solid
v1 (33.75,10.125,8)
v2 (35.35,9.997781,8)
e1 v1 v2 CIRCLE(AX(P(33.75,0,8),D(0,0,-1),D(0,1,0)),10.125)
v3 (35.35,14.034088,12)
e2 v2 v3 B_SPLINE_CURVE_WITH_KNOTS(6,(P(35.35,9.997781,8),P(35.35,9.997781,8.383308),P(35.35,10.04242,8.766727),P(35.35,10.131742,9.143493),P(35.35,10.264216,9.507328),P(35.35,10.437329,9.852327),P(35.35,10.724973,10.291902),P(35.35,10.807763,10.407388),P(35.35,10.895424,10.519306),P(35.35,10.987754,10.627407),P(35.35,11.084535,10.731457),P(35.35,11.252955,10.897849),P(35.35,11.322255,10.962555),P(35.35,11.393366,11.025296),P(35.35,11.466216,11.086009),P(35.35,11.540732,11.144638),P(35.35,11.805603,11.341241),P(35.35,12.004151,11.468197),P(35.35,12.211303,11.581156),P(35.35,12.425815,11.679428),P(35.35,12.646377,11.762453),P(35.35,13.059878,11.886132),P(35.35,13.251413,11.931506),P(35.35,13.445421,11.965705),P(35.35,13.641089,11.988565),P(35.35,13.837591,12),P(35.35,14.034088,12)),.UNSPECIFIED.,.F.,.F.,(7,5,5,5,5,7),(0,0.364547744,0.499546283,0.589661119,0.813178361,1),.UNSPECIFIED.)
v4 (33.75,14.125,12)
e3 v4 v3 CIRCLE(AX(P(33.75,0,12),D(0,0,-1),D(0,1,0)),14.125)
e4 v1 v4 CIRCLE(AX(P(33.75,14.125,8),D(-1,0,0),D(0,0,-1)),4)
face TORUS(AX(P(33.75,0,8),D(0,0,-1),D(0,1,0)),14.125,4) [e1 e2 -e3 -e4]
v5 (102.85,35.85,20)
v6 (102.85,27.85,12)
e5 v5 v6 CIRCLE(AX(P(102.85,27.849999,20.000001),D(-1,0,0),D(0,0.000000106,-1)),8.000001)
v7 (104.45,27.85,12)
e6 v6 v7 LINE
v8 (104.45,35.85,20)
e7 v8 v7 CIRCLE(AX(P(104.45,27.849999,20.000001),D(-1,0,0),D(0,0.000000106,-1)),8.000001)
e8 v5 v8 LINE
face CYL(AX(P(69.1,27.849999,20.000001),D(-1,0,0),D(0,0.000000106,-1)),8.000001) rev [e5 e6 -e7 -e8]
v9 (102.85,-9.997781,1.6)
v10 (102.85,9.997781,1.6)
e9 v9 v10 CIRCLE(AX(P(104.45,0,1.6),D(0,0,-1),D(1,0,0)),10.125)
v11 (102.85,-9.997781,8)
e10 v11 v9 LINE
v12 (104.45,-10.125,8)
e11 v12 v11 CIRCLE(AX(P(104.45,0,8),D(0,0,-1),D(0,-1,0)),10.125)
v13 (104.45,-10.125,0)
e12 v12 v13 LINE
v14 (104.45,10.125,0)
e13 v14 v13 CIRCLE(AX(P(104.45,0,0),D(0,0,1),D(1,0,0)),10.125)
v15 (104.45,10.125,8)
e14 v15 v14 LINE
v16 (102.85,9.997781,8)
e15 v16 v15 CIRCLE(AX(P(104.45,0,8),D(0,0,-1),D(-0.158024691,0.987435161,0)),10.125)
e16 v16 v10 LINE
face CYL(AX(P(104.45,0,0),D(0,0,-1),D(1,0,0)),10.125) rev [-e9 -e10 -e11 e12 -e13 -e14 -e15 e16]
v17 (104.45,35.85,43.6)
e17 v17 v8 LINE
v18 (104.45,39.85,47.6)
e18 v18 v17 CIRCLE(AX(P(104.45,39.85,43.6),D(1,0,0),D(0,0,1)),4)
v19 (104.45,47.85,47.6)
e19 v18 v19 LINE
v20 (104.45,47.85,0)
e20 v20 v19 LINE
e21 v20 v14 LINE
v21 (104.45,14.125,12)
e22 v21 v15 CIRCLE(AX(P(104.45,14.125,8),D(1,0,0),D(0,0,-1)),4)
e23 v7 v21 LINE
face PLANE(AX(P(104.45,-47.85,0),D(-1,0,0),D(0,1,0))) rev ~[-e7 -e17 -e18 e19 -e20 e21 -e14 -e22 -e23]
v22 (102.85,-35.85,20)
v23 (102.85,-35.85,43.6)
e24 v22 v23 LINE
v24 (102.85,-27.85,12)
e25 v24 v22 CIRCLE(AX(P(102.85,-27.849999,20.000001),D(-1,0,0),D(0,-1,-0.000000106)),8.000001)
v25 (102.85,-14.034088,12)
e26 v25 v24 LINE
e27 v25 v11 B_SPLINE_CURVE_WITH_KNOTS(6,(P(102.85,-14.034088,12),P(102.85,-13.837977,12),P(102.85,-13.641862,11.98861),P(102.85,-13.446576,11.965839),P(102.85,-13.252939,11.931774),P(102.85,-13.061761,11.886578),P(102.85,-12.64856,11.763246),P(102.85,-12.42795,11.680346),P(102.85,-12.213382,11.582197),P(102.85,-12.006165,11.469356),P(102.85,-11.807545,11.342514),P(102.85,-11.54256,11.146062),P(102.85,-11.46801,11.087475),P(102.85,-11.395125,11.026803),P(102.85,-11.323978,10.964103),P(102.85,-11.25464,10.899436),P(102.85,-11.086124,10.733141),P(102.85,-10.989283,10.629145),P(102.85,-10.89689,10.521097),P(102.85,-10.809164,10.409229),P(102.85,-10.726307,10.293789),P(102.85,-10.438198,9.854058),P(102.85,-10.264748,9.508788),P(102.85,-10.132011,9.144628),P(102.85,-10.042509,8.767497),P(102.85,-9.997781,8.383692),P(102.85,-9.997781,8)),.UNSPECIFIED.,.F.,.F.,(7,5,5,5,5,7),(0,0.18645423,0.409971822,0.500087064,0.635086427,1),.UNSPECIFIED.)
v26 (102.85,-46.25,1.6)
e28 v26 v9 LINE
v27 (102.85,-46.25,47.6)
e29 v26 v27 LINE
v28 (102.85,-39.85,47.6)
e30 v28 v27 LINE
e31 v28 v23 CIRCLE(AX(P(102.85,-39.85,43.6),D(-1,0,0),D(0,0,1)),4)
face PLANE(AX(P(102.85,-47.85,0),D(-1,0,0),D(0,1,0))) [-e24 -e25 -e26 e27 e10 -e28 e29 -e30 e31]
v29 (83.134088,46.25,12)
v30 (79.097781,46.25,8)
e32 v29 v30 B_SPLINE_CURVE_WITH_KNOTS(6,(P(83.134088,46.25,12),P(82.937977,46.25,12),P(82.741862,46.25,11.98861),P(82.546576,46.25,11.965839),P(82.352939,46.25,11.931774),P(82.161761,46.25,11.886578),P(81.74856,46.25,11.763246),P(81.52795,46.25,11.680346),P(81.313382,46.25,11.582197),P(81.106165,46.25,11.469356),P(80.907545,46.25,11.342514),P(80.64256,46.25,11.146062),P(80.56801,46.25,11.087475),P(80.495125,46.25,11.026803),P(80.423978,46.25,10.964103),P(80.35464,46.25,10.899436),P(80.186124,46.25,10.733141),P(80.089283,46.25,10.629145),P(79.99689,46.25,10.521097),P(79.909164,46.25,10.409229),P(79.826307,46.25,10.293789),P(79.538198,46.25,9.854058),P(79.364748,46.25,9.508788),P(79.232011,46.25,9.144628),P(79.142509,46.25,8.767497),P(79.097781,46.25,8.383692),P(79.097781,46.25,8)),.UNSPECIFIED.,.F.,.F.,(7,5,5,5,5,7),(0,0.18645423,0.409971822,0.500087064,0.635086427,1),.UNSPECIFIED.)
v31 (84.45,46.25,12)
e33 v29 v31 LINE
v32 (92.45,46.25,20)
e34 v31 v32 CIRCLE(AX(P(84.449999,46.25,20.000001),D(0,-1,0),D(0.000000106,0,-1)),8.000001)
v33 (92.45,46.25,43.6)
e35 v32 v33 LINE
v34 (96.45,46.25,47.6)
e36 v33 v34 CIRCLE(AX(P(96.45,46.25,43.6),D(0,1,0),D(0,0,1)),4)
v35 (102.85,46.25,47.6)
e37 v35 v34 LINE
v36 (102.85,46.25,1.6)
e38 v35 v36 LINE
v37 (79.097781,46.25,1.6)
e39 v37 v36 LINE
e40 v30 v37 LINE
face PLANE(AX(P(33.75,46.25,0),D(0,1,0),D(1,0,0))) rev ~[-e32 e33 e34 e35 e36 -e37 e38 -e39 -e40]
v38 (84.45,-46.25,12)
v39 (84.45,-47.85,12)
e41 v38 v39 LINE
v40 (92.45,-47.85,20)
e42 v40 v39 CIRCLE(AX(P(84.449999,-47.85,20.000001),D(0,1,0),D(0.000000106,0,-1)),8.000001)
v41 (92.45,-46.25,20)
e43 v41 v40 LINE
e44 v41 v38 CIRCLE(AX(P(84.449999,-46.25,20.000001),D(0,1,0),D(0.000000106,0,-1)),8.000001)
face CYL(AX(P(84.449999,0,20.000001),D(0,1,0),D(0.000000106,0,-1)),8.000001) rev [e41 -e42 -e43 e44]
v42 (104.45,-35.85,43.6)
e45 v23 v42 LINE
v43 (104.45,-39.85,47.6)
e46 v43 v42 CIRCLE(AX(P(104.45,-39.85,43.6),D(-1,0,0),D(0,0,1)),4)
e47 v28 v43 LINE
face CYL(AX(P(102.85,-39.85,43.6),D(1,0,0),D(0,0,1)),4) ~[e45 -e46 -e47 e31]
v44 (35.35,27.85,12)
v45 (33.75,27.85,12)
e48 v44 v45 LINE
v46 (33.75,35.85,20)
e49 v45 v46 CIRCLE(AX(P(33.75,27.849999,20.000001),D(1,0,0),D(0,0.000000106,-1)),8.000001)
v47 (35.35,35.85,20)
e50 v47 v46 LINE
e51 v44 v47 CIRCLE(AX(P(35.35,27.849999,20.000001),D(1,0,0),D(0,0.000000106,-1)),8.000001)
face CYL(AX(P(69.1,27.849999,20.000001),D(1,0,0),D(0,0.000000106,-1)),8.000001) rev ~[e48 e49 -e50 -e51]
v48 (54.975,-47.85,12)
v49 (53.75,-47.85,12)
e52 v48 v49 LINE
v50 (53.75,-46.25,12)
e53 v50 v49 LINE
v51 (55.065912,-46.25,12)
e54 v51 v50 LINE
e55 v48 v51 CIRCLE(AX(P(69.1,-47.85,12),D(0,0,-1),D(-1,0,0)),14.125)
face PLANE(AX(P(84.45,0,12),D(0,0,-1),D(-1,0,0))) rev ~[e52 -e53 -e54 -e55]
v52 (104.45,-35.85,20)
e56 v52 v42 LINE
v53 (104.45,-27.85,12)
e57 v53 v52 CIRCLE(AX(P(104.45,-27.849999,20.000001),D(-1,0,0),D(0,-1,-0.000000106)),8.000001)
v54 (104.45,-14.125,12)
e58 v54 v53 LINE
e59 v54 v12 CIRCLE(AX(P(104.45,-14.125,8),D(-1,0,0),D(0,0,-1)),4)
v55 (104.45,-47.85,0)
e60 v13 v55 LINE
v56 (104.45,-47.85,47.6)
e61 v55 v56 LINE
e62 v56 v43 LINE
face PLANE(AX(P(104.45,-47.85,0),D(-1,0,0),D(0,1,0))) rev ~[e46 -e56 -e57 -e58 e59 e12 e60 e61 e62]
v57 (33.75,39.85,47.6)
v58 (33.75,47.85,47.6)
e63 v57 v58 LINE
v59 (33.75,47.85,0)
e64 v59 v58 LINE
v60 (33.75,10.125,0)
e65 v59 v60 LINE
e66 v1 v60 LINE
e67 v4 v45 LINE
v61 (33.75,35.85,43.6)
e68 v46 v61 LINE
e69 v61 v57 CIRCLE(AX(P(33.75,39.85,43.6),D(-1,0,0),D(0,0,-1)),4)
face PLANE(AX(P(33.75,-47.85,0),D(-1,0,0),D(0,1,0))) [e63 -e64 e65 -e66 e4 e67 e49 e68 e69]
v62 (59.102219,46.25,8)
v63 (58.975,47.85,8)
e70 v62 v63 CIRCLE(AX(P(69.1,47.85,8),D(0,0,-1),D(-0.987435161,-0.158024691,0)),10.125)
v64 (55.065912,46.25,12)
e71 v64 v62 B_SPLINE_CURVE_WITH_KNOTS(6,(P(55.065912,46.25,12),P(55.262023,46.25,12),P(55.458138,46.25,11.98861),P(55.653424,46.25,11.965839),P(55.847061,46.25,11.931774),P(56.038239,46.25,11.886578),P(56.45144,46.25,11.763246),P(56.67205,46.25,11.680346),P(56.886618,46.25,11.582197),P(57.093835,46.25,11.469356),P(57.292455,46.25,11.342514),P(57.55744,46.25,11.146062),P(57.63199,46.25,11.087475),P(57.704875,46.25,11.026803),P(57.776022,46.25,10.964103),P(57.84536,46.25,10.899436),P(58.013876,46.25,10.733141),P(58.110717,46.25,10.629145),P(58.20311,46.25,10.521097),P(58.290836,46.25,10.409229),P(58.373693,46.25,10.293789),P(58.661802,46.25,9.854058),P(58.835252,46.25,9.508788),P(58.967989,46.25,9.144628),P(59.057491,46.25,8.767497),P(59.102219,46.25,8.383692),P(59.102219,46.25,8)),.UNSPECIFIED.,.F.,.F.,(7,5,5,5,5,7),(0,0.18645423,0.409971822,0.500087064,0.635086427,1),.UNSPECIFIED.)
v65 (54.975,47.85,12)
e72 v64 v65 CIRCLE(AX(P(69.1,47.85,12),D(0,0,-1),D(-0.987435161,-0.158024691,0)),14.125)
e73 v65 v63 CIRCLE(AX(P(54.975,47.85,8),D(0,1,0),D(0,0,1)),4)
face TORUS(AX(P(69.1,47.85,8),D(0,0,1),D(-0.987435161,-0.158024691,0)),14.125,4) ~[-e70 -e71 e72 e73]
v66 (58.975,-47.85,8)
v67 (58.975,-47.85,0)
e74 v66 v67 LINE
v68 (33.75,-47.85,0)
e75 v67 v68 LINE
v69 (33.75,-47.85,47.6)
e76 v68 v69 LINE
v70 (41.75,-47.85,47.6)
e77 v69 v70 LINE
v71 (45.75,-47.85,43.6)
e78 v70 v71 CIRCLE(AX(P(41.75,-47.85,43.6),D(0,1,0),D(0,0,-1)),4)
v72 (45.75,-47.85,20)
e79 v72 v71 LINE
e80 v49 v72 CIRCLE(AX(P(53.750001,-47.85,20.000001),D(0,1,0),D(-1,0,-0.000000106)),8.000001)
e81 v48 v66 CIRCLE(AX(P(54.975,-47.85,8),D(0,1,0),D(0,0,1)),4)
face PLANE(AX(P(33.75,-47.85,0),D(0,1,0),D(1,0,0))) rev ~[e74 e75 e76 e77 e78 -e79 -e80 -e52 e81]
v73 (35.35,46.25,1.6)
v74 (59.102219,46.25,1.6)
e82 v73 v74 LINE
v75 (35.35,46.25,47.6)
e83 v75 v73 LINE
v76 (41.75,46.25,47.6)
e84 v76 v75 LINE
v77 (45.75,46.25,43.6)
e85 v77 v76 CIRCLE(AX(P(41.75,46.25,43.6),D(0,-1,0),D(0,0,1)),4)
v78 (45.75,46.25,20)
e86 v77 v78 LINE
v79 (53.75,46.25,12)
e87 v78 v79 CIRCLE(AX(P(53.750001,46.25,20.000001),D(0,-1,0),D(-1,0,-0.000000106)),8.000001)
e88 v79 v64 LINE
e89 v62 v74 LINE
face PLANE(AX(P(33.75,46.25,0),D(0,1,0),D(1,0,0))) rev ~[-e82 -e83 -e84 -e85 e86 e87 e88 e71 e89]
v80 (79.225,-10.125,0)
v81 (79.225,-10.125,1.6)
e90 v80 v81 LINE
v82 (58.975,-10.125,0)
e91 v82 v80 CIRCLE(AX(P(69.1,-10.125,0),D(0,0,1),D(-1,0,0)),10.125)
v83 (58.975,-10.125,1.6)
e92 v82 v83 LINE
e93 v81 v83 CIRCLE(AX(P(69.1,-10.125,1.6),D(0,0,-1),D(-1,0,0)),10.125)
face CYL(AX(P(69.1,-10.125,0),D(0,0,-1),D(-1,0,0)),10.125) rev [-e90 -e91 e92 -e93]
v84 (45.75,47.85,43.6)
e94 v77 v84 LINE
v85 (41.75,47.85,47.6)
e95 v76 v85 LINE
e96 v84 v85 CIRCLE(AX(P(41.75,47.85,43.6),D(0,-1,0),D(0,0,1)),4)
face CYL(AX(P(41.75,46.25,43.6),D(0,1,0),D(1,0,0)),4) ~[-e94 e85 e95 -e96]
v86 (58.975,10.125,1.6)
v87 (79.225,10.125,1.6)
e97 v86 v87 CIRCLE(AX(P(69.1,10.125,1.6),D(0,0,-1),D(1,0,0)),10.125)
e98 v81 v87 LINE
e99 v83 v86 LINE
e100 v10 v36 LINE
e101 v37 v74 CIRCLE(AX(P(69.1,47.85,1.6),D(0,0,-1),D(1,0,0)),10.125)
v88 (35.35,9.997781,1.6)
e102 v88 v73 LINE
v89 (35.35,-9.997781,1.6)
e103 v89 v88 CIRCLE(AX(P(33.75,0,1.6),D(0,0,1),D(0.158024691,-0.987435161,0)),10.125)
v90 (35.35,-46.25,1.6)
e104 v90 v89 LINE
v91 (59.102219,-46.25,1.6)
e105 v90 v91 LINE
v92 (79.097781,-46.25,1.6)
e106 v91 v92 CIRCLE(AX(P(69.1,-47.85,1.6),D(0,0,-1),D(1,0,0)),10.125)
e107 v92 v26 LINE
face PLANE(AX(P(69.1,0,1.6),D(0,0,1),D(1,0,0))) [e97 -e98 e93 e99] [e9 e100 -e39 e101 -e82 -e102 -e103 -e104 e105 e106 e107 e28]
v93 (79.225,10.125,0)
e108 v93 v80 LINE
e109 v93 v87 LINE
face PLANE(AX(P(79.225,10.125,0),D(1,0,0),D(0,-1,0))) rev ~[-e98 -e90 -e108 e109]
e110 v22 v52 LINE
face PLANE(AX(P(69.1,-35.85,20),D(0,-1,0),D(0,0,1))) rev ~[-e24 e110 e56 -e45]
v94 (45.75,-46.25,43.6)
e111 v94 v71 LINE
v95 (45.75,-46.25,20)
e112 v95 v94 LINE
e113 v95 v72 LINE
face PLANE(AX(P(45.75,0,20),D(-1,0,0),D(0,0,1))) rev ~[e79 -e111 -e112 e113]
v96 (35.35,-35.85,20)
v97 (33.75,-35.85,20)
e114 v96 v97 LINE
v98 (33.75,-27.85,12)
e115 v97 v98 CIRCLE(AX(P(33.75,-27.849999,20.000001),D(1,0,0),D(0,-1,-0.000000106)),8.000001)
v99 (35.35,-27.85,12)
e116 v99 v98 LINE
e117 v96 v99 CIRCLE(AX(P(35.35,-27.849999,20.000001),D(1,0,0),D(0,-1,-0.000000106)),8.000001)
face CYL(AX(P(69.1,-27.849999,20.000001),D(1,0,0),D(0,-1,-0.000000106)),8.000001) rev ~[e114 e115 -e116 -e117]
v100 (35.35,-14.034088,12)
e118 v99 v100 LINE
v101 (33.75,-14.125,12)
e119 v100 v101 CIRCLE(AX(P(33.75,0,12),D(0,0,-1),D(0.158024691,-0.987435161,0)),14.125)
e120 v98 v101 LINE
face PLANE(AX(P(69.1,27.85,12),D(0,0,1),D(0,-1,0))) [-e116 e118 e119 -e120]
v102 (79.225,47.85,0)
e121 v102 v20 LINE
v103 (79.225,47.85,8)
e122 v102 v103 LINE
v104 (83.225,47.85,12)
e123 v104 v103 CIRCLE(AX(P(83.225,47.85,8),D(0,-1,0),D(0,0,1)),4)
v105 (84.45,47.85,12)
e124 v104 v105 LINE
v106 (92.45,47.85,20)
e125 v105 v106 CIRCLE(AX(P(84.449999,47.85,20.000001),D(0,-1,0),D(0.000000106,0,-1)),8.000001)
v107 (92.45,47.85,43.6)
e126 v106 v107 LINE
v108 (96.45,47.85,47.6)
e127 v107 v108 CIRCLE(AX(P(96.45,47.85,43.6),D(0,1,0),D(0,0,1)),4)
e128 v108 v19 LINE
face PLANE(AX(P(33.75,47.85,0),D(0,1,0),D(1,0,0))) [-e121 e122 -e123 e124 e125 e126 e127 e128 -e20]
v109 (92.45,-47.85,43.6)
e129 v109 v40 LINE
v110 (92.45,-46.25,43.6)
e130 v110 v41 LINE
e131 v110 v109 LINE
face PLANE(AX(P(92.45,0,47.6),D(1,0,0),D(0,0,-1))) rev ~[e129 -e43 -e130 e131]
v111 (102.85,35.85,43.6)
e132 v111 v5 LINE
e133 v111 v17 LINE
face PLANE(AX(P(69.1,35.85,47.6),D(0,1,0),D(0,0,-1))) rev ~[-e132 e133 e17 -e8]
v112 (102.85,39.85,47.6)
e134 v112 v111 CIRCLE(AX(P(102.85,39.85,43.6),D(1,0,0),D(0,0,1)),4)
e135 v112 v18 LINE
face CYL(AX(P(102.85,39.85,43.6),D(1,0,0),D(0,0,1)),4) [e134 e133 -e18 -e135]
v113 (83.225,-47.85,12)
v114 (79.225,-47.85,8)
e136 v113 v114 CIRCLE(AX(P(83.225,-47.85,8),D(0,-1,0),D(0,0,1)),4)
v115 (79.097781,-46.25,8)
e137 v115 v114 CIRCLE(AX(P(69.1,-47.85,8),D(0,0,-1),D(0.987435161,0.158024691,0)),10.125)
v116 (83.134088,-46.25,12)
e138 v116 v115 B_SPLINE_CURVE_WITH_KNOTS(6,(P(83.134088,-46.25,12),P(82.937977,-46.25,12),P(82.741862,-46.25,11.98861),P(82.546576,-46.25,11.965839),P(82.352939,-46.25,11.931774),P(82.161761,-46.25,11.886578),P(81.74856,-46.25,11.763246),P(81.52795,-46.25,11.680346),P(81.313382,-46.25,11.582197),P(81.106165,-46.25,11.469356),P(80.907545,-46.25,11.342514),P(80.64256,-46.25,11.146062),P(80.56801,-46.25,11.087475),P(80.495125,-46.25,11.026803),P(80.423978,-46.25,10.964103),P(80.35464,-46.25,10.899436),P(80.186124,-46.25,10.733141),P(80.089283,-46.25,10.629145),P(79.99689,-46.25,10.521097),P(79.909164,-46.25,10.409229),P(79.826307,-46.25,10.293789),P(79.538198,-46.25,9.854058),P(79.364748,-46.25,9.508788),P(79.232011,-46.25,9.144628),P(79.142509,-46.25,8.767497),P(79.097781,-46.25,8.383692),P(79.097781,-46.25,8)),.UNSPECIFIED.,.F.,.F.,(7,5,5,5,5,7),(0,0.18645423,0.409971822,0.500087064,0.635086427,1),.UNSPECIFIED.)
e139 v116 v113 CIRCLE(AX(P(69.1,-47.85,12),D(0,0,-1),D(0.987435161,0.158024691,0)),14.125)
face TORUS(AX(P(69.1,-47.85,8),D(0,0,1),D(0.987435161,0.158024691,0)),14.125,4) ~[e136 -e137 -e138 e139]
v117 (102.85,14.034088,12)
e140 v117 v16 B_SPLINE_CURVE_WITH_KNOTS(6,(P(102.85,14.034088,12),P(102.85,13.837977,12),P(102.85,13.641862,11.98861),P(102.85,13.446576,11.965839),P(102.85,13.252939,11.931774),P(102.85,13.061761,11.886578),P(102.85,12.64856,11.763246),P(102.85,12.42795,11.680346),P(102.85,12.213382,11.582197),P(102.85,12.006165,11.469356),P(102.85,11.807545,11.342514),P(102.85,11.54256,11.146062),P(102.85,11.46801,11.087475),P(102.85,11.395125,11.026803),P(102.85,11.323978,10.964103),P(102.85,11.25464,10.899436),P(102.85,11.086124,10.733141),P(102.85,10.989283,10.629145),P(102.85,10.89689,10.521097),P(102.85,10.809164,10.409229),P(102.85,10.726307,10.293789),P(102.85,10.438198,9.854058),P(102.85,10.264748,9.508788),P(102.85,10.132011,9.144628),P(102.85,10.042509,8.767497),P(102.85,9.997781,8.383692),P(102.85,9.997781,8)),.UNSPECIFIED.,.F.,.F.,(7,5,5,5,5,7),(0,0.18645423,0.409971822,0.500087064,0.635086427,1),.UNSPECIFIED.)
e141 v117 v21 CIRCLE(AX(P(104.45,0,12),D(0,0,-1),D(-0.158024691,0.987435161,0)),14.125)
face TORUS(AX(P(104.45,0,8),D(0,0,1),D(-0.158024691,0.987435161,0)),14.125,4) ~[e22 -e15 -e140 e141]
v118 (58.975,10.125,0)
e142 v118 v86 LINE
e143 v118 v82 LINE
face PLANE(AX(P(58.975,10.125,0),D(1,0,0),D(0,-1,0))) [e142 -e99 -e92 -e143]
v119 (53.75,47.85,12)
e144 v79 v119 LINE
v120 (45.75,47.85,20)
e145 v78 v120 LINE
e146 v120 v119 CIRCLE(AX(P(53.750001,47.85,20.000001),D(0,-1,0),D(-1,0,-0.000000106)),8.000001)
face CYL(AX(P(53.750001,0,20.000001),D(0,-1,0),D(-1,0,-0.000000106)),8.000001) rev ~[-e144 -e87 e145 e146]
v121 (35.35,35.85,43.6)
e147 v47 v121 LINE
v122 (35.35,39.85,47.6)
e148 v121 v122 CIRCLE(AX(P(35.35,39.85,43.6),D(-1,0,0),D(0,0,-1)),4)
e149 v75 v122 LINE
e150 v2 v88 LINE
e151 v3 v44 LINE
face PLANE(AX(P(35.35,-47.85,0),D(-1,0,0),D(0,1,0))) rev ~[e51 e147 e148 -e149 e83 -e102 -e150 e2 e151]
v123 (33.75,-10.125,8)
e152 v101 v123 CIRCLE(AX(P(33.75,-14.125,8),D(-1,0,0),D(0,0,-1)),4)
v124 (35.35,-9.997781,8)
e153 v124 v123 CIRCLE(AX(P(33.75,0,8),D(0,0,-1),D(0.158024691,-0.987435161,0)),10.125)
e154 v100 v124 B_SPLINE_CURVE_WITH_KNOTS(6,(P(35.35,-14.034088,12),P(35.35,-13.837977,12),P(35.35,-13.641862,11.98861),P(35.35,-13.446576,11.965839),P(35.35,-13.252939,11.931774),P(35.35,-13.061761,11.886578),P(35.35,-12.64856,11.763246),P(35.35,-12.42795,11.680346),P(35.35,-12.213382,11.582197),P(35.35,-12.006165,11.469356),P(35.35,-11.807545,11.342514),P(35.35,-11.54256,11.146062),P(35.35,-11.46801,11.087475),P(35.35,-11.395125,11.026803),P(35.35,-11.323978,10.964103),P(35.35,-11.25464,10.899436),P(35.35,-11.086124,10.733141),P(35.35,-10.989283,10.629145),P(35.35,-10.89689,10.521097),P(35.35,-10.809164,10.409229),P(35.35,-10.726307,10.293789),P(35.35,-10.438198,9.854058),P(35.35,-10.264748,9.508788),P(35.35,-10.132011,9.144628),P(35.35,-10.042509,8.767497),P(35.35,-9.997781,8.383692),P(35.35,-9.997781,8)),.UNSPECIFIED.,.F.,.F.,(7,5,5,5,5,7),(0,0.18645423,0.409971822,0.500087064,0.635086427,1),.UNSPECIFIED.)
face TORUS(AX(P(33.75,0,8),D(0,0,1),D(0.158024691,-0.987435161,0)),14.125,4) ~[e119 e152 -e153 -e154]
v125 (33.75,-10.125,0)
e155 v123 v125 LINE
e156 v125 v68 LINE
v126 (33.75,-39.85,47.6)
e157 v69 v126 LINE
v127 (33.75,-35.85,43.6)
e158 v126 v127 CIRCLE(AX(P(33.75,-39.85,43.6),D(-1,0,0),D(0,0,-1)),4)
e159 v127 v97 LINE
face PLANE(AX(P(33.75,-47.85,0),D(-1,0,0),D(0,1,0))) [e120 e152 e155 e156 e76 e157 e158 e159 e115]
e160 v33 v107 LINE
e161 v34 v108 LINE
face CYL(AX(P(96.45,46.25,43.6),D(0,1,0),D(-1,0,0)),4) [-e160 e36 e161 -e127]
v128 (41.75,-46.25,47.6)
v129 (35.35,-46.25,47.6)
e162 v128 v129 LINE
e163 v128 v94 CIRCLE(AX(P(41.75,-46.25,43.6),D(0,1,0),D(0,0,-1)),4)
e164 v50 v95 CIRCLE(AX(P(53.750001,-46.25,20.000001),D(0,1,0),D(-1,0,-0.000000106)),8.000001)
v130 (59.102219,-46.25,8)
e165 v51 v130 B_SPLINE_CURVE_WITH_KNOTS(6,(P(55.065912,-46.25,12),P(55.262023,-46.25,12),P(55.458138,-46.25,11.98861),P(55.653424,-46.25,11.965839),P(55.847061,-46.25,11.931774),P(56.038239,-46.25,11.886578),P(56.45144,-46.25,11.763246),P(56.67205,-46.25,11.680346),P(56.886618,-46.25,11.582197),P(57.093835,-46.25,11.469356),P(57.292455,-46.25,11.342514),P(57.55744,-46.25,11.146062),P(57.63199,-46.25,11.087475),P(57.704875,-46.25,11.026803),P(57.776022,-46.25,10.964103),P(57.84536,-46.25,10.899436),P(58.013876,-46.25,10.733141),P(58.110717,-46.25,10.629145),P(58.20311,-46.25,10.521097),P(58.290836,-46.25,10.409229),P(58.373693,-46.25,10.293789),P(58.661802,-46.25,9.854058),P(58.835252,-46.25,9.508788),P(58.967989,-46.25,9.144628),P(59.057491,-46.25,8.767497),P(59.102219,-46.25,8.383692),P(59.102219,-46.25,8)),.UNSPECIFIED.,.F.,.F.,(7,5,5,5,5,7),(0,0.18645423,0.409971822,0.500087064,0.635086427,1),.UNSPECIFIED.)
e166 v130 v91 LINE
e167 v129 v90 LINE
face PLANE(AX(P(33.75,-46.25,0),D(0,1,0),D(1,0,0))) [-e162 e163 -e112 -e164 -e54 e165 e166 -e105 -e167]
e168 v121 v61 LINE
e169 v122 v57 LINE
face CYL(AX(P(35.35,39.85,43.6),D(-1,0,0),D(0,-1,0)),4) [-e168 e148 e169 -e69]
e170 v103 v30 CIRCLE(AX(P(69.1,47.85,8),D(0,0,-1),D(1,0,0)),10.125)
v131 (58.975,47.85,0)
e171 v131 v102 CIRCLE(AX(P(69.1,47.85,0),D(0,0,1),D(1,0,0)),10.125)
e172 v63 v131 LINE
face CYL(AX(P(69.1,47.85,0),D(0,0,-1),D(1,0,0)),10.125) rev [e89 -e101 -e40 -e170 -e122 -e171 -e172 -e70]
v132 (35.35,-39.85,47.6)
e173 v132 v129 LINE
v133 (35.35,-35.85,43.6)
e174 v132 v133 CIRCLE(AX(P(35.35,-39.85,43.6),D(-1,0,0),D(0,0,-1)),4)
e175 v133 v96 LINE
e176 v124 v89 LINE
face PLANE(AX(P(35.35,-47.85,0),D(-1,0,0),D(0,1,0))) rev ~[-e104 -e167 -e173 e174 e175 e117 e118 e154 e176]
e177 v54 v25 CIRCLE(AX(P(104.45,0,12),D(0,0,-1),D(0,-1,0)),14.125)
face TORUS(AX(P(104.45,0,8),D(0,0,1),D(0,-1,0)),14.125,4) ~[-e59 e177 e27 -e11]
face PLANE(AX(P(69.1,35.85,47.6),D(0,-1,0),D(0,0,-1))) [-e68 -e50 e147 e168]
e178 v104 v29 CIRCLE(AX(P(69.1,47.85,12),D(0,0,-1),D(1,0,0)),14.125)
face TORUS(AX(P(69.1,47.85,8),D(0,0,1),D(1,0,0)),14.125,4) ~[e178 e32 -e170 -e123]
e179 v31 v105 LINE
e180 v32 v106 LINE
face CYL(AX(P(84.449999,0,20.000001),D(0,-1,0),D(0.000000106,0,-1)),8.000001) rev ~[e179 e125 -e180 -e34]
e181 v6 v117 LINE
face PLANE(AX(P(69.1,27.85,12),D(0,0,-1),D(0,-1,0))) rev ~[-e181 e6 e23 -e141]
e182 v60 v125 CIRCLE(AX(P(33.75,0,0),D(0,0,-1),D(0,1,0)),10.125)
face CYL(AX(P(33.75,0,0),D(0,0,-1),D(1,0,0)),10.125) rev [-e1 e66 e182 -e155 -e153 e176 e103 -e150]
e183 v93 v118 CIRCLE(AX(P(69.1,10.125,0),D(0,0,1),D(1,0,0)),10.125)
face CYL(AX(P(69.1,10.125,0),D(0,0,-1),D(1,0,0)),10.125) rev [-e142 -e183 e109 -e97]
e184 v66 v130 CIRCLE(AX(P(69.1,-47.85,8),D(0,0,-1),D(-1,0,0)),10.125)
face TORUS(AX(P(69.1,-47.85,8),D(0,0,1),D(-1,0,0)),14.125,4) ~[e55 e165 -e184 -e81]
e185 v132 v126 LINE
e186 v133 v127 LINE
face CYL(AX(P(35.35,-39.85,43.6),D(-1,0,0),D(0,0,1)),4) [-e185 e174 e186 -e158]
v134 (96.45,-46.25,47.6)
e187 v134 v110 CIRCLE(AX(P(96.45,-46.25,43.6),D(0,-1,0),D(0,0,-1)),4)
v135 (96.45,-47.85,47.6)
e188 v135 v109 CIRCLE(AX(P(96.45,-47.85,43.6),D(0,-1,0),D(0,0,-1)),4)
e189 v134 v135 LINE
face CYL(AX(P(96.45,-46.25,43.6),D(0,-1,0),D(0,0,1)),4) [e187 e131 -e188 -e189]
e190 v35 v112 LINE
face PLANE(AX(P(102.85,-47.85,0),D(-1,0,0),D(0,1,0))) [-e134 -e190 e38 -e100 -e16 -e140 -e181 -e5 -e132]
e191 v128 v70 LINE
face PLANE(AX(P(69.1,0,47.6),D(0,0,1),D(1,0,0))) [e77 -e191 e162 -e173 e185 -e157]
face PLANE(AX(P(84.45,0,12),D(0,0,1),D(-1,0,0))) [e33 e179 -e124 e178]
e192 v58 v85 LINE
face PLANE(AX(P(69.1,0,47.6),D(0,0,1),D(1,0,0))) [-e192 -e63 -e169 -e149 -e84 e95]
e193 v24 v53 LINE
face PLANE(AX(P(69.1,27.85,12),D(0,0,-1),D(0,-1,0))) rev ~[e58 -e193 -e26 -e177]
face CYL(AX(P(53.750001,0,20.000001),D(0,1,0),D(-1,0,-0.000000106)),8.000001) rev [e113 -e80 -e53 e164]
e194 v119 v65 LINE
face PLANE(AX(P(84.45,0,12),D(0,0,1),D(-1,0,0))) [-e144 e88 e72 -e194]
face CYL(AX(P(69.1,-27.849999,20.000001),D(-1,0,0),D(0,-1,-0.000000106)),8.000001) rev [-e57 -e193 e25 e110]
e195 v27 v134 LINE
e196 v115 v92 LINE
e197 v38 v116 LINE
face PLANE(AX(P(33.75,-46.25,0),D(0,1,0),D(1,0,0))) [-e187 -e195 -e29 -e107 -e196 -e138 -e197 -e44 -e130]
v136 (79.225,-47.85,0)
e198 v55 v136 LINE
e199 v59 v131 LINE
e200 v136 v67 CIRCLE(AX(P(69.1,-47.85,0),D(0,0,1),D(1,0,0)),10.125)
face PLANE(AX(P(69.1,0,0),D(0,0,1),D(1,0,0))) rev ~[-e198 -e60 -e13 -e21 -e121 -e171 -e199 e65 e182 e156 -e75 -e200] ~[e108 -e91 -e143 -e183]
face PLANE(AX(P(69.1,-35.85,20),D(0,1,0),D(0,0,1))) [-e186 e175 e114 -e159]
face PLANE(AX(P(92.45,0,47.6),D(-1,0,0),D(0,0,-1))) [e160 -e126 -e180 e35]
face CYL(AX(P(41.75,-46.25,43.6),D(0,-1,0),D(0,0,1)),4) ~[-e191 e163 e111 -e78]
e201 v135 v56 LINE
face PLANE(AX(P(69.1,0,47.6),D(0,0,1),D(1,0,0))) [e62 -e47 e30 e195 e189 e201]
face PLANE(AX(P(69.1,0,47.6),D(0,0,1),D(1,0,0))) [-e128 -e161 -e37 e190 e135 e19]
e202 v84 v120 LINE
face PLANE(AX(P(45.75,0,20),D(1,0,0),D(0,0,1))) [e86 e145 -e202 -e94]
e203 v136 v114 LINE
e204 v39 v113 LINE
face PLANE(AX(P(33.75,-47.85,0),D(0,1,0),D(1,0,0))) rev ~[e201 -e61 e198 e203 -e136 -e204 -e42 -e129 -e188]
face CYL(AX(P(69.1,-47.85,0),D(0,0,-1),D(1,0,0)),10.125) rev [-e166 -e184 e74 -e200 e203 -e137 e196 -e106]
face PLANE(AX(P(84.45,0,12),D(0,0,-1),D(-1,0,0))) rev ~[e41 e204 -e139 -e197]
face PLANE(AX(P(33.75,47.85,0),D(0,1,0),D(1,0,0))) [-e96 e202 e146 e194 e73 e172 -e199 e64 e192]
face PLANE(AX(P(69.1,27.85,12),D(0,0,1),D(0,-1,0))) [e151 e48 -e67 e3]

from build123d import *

# Parameters (mm, degrees)
SKETCH031_W          = 70.7
SKETCH031_H          = 95.7
PAD016_DEPTH         = 47.6
THICKNESS016_T       = -1.6
POCKET015_DEPTH      = 47.851
POCKET015_DEPTH_BACK = 47.851
POCKET016_DEPTH      = 35.351
POCKET016_DEPTH_BACK = 35.351
SKETCH034_R          = 10.125
POCKET017_DEPTH      = 0.001
POCKET017_DEPTH_BACK = 47.601
FILLET002_R          = 4


with BuildPart() as part:
    # Sketch031 → Pad016 (new body)
    with BuildSketch(Plane.XY):
        Rectangle(SKETCH031_W, SKETCH031_H)
    extrude(amount=PAD016_DEPTH)

    # Thickness016
    thickness016_openings = [part.faces().sort_by_distance(p)[0] for p in [
        (0, 0, 47.6),
    ]]
    offset(amount=THICKNESS016_T, openings=thickness016_openings, kind=Kind.INTERSECTION)

    # Sketch032 → Pocket015 (cut, two sides)
    with BuildSketch(Plane.XZ) as pocket015_sk:
        with BuildLine():
            Line((-23.35, 47.6), (23.35, 47.6))
            Line((23.35, 47.6), (23.35, 20))
            ThreePointArc((15.35, 12), (21.006854, 14.343146), (23.35, 20))
            Line((15.35, 12), (-15.35, 12))
            ThreePointArc((-23.35, 20), (-21.006854, 14.343146), (-15.35, 12))
            Line((-23.35, 20), (-23.35, 47.6))
        make_face()
    extrude(amount=-POCKET015_DEPTH, mode=Mode.SUBTRACT)
    extrude(pocket015_sk.sketch, amount=POCKET015_DEPTH_BACK, mode=Mode.SUBTRACT)

    # Sketch033 → Pocket016 (cut, two sides)
    with BuildSketch(Plane.YZ) as pocket016_sk:
        with BuildLine():
            Line((-35.85, 47.6), (35.85, 47.6))
            Line((35.85, 47.6), (35.85, 20))
            ThreePointArc((27.85, 12), (33.506854, 14.343146), (35.85, 20))
            Line((27.85, 12), (-27.85, 12))
            ThreePointArc((-35.85, 20), (-33.506854, 14.343146), (-27.85, 12))
            Line((-35.85, 20), (-35.85, 47.6))
        make_face()
    extrude(amount=-POCKET016_DEPTH, mode=Mode.SUBTRACT)
    extrude(pocket016_sk.sketch, amount=POCKET016_DEPTH_BACK, mode=Mode.SUBTRACT)

    # Sketch034 → Pocket017 (cut, two sides)
    with BuildSketch(Plane.XY) as pocket017_sk:
        with Locations((0, 47.85)):
            Circle(SKETCH034_R)
        with Locations((0, -47.85)):
            Circle(SKETCH034_R)
        with Locations((35.35, 0)):
            Circle(SKETCH034_R)
        with Locations((-35.35, 0)):
            Circle(SKETCH034_R)
        with BuildLine():
            ThreePointArc((10.125, 10.125), (0, 20.25), (-10.125, 10.125))
            Line((-10.125, 10.125), (-10.125, -10.125))
            ThreePointArc((-10.125, -10.125), (0, -20.25), (10.125, -10.125))
            Line((10.125, 10.125), (10.125, -10.125))
        make_face()
    extrude(amount=-POCKET017_DEPTH, mode=Mode.SUBTRACT)
    extrude(pocket017_sk.sketch, amount=POCKET017_DEPTH_BACK, mode=Mode.SUBTRACT)

    # Fillet002
    fillet002_edges = [part.edges().sort_by_distance(p)[0] for p in [
        (34.547475, -10.093145, 12),
        (34.547475, 10.093145, 12),
        (34.55, 35.85, 47.6),
        (23.35, 47.05, 47.6),
        (10.093145, 47.047475, 12),
        (-10.093145, 47.047475, 12),
        (-23.35, 47.05, 47.6),
        (-34.55, 35.85, 47.6),
        (-34.547475, 10.093145, 12),
        (-34.547475, -10.093145, 12),
        (-34.55, -35.85, 47.6),
        (-23.35, -47.05, 47.6),
        (-10.093145, -47.047475, 12),
        (10.093145, -47.047475, 12),
        (23.35, -47.05, 47.6),
        (34.55, -35.85, 47.6),
    ]]
    fillet(fillet002_edges, radius=FILLET002_R)


with BuildPart() as part_1:
    # Body016 placement: moved
    add(part.part.moved(Location((69.1, 0, 0))))


solid = part_1.part
